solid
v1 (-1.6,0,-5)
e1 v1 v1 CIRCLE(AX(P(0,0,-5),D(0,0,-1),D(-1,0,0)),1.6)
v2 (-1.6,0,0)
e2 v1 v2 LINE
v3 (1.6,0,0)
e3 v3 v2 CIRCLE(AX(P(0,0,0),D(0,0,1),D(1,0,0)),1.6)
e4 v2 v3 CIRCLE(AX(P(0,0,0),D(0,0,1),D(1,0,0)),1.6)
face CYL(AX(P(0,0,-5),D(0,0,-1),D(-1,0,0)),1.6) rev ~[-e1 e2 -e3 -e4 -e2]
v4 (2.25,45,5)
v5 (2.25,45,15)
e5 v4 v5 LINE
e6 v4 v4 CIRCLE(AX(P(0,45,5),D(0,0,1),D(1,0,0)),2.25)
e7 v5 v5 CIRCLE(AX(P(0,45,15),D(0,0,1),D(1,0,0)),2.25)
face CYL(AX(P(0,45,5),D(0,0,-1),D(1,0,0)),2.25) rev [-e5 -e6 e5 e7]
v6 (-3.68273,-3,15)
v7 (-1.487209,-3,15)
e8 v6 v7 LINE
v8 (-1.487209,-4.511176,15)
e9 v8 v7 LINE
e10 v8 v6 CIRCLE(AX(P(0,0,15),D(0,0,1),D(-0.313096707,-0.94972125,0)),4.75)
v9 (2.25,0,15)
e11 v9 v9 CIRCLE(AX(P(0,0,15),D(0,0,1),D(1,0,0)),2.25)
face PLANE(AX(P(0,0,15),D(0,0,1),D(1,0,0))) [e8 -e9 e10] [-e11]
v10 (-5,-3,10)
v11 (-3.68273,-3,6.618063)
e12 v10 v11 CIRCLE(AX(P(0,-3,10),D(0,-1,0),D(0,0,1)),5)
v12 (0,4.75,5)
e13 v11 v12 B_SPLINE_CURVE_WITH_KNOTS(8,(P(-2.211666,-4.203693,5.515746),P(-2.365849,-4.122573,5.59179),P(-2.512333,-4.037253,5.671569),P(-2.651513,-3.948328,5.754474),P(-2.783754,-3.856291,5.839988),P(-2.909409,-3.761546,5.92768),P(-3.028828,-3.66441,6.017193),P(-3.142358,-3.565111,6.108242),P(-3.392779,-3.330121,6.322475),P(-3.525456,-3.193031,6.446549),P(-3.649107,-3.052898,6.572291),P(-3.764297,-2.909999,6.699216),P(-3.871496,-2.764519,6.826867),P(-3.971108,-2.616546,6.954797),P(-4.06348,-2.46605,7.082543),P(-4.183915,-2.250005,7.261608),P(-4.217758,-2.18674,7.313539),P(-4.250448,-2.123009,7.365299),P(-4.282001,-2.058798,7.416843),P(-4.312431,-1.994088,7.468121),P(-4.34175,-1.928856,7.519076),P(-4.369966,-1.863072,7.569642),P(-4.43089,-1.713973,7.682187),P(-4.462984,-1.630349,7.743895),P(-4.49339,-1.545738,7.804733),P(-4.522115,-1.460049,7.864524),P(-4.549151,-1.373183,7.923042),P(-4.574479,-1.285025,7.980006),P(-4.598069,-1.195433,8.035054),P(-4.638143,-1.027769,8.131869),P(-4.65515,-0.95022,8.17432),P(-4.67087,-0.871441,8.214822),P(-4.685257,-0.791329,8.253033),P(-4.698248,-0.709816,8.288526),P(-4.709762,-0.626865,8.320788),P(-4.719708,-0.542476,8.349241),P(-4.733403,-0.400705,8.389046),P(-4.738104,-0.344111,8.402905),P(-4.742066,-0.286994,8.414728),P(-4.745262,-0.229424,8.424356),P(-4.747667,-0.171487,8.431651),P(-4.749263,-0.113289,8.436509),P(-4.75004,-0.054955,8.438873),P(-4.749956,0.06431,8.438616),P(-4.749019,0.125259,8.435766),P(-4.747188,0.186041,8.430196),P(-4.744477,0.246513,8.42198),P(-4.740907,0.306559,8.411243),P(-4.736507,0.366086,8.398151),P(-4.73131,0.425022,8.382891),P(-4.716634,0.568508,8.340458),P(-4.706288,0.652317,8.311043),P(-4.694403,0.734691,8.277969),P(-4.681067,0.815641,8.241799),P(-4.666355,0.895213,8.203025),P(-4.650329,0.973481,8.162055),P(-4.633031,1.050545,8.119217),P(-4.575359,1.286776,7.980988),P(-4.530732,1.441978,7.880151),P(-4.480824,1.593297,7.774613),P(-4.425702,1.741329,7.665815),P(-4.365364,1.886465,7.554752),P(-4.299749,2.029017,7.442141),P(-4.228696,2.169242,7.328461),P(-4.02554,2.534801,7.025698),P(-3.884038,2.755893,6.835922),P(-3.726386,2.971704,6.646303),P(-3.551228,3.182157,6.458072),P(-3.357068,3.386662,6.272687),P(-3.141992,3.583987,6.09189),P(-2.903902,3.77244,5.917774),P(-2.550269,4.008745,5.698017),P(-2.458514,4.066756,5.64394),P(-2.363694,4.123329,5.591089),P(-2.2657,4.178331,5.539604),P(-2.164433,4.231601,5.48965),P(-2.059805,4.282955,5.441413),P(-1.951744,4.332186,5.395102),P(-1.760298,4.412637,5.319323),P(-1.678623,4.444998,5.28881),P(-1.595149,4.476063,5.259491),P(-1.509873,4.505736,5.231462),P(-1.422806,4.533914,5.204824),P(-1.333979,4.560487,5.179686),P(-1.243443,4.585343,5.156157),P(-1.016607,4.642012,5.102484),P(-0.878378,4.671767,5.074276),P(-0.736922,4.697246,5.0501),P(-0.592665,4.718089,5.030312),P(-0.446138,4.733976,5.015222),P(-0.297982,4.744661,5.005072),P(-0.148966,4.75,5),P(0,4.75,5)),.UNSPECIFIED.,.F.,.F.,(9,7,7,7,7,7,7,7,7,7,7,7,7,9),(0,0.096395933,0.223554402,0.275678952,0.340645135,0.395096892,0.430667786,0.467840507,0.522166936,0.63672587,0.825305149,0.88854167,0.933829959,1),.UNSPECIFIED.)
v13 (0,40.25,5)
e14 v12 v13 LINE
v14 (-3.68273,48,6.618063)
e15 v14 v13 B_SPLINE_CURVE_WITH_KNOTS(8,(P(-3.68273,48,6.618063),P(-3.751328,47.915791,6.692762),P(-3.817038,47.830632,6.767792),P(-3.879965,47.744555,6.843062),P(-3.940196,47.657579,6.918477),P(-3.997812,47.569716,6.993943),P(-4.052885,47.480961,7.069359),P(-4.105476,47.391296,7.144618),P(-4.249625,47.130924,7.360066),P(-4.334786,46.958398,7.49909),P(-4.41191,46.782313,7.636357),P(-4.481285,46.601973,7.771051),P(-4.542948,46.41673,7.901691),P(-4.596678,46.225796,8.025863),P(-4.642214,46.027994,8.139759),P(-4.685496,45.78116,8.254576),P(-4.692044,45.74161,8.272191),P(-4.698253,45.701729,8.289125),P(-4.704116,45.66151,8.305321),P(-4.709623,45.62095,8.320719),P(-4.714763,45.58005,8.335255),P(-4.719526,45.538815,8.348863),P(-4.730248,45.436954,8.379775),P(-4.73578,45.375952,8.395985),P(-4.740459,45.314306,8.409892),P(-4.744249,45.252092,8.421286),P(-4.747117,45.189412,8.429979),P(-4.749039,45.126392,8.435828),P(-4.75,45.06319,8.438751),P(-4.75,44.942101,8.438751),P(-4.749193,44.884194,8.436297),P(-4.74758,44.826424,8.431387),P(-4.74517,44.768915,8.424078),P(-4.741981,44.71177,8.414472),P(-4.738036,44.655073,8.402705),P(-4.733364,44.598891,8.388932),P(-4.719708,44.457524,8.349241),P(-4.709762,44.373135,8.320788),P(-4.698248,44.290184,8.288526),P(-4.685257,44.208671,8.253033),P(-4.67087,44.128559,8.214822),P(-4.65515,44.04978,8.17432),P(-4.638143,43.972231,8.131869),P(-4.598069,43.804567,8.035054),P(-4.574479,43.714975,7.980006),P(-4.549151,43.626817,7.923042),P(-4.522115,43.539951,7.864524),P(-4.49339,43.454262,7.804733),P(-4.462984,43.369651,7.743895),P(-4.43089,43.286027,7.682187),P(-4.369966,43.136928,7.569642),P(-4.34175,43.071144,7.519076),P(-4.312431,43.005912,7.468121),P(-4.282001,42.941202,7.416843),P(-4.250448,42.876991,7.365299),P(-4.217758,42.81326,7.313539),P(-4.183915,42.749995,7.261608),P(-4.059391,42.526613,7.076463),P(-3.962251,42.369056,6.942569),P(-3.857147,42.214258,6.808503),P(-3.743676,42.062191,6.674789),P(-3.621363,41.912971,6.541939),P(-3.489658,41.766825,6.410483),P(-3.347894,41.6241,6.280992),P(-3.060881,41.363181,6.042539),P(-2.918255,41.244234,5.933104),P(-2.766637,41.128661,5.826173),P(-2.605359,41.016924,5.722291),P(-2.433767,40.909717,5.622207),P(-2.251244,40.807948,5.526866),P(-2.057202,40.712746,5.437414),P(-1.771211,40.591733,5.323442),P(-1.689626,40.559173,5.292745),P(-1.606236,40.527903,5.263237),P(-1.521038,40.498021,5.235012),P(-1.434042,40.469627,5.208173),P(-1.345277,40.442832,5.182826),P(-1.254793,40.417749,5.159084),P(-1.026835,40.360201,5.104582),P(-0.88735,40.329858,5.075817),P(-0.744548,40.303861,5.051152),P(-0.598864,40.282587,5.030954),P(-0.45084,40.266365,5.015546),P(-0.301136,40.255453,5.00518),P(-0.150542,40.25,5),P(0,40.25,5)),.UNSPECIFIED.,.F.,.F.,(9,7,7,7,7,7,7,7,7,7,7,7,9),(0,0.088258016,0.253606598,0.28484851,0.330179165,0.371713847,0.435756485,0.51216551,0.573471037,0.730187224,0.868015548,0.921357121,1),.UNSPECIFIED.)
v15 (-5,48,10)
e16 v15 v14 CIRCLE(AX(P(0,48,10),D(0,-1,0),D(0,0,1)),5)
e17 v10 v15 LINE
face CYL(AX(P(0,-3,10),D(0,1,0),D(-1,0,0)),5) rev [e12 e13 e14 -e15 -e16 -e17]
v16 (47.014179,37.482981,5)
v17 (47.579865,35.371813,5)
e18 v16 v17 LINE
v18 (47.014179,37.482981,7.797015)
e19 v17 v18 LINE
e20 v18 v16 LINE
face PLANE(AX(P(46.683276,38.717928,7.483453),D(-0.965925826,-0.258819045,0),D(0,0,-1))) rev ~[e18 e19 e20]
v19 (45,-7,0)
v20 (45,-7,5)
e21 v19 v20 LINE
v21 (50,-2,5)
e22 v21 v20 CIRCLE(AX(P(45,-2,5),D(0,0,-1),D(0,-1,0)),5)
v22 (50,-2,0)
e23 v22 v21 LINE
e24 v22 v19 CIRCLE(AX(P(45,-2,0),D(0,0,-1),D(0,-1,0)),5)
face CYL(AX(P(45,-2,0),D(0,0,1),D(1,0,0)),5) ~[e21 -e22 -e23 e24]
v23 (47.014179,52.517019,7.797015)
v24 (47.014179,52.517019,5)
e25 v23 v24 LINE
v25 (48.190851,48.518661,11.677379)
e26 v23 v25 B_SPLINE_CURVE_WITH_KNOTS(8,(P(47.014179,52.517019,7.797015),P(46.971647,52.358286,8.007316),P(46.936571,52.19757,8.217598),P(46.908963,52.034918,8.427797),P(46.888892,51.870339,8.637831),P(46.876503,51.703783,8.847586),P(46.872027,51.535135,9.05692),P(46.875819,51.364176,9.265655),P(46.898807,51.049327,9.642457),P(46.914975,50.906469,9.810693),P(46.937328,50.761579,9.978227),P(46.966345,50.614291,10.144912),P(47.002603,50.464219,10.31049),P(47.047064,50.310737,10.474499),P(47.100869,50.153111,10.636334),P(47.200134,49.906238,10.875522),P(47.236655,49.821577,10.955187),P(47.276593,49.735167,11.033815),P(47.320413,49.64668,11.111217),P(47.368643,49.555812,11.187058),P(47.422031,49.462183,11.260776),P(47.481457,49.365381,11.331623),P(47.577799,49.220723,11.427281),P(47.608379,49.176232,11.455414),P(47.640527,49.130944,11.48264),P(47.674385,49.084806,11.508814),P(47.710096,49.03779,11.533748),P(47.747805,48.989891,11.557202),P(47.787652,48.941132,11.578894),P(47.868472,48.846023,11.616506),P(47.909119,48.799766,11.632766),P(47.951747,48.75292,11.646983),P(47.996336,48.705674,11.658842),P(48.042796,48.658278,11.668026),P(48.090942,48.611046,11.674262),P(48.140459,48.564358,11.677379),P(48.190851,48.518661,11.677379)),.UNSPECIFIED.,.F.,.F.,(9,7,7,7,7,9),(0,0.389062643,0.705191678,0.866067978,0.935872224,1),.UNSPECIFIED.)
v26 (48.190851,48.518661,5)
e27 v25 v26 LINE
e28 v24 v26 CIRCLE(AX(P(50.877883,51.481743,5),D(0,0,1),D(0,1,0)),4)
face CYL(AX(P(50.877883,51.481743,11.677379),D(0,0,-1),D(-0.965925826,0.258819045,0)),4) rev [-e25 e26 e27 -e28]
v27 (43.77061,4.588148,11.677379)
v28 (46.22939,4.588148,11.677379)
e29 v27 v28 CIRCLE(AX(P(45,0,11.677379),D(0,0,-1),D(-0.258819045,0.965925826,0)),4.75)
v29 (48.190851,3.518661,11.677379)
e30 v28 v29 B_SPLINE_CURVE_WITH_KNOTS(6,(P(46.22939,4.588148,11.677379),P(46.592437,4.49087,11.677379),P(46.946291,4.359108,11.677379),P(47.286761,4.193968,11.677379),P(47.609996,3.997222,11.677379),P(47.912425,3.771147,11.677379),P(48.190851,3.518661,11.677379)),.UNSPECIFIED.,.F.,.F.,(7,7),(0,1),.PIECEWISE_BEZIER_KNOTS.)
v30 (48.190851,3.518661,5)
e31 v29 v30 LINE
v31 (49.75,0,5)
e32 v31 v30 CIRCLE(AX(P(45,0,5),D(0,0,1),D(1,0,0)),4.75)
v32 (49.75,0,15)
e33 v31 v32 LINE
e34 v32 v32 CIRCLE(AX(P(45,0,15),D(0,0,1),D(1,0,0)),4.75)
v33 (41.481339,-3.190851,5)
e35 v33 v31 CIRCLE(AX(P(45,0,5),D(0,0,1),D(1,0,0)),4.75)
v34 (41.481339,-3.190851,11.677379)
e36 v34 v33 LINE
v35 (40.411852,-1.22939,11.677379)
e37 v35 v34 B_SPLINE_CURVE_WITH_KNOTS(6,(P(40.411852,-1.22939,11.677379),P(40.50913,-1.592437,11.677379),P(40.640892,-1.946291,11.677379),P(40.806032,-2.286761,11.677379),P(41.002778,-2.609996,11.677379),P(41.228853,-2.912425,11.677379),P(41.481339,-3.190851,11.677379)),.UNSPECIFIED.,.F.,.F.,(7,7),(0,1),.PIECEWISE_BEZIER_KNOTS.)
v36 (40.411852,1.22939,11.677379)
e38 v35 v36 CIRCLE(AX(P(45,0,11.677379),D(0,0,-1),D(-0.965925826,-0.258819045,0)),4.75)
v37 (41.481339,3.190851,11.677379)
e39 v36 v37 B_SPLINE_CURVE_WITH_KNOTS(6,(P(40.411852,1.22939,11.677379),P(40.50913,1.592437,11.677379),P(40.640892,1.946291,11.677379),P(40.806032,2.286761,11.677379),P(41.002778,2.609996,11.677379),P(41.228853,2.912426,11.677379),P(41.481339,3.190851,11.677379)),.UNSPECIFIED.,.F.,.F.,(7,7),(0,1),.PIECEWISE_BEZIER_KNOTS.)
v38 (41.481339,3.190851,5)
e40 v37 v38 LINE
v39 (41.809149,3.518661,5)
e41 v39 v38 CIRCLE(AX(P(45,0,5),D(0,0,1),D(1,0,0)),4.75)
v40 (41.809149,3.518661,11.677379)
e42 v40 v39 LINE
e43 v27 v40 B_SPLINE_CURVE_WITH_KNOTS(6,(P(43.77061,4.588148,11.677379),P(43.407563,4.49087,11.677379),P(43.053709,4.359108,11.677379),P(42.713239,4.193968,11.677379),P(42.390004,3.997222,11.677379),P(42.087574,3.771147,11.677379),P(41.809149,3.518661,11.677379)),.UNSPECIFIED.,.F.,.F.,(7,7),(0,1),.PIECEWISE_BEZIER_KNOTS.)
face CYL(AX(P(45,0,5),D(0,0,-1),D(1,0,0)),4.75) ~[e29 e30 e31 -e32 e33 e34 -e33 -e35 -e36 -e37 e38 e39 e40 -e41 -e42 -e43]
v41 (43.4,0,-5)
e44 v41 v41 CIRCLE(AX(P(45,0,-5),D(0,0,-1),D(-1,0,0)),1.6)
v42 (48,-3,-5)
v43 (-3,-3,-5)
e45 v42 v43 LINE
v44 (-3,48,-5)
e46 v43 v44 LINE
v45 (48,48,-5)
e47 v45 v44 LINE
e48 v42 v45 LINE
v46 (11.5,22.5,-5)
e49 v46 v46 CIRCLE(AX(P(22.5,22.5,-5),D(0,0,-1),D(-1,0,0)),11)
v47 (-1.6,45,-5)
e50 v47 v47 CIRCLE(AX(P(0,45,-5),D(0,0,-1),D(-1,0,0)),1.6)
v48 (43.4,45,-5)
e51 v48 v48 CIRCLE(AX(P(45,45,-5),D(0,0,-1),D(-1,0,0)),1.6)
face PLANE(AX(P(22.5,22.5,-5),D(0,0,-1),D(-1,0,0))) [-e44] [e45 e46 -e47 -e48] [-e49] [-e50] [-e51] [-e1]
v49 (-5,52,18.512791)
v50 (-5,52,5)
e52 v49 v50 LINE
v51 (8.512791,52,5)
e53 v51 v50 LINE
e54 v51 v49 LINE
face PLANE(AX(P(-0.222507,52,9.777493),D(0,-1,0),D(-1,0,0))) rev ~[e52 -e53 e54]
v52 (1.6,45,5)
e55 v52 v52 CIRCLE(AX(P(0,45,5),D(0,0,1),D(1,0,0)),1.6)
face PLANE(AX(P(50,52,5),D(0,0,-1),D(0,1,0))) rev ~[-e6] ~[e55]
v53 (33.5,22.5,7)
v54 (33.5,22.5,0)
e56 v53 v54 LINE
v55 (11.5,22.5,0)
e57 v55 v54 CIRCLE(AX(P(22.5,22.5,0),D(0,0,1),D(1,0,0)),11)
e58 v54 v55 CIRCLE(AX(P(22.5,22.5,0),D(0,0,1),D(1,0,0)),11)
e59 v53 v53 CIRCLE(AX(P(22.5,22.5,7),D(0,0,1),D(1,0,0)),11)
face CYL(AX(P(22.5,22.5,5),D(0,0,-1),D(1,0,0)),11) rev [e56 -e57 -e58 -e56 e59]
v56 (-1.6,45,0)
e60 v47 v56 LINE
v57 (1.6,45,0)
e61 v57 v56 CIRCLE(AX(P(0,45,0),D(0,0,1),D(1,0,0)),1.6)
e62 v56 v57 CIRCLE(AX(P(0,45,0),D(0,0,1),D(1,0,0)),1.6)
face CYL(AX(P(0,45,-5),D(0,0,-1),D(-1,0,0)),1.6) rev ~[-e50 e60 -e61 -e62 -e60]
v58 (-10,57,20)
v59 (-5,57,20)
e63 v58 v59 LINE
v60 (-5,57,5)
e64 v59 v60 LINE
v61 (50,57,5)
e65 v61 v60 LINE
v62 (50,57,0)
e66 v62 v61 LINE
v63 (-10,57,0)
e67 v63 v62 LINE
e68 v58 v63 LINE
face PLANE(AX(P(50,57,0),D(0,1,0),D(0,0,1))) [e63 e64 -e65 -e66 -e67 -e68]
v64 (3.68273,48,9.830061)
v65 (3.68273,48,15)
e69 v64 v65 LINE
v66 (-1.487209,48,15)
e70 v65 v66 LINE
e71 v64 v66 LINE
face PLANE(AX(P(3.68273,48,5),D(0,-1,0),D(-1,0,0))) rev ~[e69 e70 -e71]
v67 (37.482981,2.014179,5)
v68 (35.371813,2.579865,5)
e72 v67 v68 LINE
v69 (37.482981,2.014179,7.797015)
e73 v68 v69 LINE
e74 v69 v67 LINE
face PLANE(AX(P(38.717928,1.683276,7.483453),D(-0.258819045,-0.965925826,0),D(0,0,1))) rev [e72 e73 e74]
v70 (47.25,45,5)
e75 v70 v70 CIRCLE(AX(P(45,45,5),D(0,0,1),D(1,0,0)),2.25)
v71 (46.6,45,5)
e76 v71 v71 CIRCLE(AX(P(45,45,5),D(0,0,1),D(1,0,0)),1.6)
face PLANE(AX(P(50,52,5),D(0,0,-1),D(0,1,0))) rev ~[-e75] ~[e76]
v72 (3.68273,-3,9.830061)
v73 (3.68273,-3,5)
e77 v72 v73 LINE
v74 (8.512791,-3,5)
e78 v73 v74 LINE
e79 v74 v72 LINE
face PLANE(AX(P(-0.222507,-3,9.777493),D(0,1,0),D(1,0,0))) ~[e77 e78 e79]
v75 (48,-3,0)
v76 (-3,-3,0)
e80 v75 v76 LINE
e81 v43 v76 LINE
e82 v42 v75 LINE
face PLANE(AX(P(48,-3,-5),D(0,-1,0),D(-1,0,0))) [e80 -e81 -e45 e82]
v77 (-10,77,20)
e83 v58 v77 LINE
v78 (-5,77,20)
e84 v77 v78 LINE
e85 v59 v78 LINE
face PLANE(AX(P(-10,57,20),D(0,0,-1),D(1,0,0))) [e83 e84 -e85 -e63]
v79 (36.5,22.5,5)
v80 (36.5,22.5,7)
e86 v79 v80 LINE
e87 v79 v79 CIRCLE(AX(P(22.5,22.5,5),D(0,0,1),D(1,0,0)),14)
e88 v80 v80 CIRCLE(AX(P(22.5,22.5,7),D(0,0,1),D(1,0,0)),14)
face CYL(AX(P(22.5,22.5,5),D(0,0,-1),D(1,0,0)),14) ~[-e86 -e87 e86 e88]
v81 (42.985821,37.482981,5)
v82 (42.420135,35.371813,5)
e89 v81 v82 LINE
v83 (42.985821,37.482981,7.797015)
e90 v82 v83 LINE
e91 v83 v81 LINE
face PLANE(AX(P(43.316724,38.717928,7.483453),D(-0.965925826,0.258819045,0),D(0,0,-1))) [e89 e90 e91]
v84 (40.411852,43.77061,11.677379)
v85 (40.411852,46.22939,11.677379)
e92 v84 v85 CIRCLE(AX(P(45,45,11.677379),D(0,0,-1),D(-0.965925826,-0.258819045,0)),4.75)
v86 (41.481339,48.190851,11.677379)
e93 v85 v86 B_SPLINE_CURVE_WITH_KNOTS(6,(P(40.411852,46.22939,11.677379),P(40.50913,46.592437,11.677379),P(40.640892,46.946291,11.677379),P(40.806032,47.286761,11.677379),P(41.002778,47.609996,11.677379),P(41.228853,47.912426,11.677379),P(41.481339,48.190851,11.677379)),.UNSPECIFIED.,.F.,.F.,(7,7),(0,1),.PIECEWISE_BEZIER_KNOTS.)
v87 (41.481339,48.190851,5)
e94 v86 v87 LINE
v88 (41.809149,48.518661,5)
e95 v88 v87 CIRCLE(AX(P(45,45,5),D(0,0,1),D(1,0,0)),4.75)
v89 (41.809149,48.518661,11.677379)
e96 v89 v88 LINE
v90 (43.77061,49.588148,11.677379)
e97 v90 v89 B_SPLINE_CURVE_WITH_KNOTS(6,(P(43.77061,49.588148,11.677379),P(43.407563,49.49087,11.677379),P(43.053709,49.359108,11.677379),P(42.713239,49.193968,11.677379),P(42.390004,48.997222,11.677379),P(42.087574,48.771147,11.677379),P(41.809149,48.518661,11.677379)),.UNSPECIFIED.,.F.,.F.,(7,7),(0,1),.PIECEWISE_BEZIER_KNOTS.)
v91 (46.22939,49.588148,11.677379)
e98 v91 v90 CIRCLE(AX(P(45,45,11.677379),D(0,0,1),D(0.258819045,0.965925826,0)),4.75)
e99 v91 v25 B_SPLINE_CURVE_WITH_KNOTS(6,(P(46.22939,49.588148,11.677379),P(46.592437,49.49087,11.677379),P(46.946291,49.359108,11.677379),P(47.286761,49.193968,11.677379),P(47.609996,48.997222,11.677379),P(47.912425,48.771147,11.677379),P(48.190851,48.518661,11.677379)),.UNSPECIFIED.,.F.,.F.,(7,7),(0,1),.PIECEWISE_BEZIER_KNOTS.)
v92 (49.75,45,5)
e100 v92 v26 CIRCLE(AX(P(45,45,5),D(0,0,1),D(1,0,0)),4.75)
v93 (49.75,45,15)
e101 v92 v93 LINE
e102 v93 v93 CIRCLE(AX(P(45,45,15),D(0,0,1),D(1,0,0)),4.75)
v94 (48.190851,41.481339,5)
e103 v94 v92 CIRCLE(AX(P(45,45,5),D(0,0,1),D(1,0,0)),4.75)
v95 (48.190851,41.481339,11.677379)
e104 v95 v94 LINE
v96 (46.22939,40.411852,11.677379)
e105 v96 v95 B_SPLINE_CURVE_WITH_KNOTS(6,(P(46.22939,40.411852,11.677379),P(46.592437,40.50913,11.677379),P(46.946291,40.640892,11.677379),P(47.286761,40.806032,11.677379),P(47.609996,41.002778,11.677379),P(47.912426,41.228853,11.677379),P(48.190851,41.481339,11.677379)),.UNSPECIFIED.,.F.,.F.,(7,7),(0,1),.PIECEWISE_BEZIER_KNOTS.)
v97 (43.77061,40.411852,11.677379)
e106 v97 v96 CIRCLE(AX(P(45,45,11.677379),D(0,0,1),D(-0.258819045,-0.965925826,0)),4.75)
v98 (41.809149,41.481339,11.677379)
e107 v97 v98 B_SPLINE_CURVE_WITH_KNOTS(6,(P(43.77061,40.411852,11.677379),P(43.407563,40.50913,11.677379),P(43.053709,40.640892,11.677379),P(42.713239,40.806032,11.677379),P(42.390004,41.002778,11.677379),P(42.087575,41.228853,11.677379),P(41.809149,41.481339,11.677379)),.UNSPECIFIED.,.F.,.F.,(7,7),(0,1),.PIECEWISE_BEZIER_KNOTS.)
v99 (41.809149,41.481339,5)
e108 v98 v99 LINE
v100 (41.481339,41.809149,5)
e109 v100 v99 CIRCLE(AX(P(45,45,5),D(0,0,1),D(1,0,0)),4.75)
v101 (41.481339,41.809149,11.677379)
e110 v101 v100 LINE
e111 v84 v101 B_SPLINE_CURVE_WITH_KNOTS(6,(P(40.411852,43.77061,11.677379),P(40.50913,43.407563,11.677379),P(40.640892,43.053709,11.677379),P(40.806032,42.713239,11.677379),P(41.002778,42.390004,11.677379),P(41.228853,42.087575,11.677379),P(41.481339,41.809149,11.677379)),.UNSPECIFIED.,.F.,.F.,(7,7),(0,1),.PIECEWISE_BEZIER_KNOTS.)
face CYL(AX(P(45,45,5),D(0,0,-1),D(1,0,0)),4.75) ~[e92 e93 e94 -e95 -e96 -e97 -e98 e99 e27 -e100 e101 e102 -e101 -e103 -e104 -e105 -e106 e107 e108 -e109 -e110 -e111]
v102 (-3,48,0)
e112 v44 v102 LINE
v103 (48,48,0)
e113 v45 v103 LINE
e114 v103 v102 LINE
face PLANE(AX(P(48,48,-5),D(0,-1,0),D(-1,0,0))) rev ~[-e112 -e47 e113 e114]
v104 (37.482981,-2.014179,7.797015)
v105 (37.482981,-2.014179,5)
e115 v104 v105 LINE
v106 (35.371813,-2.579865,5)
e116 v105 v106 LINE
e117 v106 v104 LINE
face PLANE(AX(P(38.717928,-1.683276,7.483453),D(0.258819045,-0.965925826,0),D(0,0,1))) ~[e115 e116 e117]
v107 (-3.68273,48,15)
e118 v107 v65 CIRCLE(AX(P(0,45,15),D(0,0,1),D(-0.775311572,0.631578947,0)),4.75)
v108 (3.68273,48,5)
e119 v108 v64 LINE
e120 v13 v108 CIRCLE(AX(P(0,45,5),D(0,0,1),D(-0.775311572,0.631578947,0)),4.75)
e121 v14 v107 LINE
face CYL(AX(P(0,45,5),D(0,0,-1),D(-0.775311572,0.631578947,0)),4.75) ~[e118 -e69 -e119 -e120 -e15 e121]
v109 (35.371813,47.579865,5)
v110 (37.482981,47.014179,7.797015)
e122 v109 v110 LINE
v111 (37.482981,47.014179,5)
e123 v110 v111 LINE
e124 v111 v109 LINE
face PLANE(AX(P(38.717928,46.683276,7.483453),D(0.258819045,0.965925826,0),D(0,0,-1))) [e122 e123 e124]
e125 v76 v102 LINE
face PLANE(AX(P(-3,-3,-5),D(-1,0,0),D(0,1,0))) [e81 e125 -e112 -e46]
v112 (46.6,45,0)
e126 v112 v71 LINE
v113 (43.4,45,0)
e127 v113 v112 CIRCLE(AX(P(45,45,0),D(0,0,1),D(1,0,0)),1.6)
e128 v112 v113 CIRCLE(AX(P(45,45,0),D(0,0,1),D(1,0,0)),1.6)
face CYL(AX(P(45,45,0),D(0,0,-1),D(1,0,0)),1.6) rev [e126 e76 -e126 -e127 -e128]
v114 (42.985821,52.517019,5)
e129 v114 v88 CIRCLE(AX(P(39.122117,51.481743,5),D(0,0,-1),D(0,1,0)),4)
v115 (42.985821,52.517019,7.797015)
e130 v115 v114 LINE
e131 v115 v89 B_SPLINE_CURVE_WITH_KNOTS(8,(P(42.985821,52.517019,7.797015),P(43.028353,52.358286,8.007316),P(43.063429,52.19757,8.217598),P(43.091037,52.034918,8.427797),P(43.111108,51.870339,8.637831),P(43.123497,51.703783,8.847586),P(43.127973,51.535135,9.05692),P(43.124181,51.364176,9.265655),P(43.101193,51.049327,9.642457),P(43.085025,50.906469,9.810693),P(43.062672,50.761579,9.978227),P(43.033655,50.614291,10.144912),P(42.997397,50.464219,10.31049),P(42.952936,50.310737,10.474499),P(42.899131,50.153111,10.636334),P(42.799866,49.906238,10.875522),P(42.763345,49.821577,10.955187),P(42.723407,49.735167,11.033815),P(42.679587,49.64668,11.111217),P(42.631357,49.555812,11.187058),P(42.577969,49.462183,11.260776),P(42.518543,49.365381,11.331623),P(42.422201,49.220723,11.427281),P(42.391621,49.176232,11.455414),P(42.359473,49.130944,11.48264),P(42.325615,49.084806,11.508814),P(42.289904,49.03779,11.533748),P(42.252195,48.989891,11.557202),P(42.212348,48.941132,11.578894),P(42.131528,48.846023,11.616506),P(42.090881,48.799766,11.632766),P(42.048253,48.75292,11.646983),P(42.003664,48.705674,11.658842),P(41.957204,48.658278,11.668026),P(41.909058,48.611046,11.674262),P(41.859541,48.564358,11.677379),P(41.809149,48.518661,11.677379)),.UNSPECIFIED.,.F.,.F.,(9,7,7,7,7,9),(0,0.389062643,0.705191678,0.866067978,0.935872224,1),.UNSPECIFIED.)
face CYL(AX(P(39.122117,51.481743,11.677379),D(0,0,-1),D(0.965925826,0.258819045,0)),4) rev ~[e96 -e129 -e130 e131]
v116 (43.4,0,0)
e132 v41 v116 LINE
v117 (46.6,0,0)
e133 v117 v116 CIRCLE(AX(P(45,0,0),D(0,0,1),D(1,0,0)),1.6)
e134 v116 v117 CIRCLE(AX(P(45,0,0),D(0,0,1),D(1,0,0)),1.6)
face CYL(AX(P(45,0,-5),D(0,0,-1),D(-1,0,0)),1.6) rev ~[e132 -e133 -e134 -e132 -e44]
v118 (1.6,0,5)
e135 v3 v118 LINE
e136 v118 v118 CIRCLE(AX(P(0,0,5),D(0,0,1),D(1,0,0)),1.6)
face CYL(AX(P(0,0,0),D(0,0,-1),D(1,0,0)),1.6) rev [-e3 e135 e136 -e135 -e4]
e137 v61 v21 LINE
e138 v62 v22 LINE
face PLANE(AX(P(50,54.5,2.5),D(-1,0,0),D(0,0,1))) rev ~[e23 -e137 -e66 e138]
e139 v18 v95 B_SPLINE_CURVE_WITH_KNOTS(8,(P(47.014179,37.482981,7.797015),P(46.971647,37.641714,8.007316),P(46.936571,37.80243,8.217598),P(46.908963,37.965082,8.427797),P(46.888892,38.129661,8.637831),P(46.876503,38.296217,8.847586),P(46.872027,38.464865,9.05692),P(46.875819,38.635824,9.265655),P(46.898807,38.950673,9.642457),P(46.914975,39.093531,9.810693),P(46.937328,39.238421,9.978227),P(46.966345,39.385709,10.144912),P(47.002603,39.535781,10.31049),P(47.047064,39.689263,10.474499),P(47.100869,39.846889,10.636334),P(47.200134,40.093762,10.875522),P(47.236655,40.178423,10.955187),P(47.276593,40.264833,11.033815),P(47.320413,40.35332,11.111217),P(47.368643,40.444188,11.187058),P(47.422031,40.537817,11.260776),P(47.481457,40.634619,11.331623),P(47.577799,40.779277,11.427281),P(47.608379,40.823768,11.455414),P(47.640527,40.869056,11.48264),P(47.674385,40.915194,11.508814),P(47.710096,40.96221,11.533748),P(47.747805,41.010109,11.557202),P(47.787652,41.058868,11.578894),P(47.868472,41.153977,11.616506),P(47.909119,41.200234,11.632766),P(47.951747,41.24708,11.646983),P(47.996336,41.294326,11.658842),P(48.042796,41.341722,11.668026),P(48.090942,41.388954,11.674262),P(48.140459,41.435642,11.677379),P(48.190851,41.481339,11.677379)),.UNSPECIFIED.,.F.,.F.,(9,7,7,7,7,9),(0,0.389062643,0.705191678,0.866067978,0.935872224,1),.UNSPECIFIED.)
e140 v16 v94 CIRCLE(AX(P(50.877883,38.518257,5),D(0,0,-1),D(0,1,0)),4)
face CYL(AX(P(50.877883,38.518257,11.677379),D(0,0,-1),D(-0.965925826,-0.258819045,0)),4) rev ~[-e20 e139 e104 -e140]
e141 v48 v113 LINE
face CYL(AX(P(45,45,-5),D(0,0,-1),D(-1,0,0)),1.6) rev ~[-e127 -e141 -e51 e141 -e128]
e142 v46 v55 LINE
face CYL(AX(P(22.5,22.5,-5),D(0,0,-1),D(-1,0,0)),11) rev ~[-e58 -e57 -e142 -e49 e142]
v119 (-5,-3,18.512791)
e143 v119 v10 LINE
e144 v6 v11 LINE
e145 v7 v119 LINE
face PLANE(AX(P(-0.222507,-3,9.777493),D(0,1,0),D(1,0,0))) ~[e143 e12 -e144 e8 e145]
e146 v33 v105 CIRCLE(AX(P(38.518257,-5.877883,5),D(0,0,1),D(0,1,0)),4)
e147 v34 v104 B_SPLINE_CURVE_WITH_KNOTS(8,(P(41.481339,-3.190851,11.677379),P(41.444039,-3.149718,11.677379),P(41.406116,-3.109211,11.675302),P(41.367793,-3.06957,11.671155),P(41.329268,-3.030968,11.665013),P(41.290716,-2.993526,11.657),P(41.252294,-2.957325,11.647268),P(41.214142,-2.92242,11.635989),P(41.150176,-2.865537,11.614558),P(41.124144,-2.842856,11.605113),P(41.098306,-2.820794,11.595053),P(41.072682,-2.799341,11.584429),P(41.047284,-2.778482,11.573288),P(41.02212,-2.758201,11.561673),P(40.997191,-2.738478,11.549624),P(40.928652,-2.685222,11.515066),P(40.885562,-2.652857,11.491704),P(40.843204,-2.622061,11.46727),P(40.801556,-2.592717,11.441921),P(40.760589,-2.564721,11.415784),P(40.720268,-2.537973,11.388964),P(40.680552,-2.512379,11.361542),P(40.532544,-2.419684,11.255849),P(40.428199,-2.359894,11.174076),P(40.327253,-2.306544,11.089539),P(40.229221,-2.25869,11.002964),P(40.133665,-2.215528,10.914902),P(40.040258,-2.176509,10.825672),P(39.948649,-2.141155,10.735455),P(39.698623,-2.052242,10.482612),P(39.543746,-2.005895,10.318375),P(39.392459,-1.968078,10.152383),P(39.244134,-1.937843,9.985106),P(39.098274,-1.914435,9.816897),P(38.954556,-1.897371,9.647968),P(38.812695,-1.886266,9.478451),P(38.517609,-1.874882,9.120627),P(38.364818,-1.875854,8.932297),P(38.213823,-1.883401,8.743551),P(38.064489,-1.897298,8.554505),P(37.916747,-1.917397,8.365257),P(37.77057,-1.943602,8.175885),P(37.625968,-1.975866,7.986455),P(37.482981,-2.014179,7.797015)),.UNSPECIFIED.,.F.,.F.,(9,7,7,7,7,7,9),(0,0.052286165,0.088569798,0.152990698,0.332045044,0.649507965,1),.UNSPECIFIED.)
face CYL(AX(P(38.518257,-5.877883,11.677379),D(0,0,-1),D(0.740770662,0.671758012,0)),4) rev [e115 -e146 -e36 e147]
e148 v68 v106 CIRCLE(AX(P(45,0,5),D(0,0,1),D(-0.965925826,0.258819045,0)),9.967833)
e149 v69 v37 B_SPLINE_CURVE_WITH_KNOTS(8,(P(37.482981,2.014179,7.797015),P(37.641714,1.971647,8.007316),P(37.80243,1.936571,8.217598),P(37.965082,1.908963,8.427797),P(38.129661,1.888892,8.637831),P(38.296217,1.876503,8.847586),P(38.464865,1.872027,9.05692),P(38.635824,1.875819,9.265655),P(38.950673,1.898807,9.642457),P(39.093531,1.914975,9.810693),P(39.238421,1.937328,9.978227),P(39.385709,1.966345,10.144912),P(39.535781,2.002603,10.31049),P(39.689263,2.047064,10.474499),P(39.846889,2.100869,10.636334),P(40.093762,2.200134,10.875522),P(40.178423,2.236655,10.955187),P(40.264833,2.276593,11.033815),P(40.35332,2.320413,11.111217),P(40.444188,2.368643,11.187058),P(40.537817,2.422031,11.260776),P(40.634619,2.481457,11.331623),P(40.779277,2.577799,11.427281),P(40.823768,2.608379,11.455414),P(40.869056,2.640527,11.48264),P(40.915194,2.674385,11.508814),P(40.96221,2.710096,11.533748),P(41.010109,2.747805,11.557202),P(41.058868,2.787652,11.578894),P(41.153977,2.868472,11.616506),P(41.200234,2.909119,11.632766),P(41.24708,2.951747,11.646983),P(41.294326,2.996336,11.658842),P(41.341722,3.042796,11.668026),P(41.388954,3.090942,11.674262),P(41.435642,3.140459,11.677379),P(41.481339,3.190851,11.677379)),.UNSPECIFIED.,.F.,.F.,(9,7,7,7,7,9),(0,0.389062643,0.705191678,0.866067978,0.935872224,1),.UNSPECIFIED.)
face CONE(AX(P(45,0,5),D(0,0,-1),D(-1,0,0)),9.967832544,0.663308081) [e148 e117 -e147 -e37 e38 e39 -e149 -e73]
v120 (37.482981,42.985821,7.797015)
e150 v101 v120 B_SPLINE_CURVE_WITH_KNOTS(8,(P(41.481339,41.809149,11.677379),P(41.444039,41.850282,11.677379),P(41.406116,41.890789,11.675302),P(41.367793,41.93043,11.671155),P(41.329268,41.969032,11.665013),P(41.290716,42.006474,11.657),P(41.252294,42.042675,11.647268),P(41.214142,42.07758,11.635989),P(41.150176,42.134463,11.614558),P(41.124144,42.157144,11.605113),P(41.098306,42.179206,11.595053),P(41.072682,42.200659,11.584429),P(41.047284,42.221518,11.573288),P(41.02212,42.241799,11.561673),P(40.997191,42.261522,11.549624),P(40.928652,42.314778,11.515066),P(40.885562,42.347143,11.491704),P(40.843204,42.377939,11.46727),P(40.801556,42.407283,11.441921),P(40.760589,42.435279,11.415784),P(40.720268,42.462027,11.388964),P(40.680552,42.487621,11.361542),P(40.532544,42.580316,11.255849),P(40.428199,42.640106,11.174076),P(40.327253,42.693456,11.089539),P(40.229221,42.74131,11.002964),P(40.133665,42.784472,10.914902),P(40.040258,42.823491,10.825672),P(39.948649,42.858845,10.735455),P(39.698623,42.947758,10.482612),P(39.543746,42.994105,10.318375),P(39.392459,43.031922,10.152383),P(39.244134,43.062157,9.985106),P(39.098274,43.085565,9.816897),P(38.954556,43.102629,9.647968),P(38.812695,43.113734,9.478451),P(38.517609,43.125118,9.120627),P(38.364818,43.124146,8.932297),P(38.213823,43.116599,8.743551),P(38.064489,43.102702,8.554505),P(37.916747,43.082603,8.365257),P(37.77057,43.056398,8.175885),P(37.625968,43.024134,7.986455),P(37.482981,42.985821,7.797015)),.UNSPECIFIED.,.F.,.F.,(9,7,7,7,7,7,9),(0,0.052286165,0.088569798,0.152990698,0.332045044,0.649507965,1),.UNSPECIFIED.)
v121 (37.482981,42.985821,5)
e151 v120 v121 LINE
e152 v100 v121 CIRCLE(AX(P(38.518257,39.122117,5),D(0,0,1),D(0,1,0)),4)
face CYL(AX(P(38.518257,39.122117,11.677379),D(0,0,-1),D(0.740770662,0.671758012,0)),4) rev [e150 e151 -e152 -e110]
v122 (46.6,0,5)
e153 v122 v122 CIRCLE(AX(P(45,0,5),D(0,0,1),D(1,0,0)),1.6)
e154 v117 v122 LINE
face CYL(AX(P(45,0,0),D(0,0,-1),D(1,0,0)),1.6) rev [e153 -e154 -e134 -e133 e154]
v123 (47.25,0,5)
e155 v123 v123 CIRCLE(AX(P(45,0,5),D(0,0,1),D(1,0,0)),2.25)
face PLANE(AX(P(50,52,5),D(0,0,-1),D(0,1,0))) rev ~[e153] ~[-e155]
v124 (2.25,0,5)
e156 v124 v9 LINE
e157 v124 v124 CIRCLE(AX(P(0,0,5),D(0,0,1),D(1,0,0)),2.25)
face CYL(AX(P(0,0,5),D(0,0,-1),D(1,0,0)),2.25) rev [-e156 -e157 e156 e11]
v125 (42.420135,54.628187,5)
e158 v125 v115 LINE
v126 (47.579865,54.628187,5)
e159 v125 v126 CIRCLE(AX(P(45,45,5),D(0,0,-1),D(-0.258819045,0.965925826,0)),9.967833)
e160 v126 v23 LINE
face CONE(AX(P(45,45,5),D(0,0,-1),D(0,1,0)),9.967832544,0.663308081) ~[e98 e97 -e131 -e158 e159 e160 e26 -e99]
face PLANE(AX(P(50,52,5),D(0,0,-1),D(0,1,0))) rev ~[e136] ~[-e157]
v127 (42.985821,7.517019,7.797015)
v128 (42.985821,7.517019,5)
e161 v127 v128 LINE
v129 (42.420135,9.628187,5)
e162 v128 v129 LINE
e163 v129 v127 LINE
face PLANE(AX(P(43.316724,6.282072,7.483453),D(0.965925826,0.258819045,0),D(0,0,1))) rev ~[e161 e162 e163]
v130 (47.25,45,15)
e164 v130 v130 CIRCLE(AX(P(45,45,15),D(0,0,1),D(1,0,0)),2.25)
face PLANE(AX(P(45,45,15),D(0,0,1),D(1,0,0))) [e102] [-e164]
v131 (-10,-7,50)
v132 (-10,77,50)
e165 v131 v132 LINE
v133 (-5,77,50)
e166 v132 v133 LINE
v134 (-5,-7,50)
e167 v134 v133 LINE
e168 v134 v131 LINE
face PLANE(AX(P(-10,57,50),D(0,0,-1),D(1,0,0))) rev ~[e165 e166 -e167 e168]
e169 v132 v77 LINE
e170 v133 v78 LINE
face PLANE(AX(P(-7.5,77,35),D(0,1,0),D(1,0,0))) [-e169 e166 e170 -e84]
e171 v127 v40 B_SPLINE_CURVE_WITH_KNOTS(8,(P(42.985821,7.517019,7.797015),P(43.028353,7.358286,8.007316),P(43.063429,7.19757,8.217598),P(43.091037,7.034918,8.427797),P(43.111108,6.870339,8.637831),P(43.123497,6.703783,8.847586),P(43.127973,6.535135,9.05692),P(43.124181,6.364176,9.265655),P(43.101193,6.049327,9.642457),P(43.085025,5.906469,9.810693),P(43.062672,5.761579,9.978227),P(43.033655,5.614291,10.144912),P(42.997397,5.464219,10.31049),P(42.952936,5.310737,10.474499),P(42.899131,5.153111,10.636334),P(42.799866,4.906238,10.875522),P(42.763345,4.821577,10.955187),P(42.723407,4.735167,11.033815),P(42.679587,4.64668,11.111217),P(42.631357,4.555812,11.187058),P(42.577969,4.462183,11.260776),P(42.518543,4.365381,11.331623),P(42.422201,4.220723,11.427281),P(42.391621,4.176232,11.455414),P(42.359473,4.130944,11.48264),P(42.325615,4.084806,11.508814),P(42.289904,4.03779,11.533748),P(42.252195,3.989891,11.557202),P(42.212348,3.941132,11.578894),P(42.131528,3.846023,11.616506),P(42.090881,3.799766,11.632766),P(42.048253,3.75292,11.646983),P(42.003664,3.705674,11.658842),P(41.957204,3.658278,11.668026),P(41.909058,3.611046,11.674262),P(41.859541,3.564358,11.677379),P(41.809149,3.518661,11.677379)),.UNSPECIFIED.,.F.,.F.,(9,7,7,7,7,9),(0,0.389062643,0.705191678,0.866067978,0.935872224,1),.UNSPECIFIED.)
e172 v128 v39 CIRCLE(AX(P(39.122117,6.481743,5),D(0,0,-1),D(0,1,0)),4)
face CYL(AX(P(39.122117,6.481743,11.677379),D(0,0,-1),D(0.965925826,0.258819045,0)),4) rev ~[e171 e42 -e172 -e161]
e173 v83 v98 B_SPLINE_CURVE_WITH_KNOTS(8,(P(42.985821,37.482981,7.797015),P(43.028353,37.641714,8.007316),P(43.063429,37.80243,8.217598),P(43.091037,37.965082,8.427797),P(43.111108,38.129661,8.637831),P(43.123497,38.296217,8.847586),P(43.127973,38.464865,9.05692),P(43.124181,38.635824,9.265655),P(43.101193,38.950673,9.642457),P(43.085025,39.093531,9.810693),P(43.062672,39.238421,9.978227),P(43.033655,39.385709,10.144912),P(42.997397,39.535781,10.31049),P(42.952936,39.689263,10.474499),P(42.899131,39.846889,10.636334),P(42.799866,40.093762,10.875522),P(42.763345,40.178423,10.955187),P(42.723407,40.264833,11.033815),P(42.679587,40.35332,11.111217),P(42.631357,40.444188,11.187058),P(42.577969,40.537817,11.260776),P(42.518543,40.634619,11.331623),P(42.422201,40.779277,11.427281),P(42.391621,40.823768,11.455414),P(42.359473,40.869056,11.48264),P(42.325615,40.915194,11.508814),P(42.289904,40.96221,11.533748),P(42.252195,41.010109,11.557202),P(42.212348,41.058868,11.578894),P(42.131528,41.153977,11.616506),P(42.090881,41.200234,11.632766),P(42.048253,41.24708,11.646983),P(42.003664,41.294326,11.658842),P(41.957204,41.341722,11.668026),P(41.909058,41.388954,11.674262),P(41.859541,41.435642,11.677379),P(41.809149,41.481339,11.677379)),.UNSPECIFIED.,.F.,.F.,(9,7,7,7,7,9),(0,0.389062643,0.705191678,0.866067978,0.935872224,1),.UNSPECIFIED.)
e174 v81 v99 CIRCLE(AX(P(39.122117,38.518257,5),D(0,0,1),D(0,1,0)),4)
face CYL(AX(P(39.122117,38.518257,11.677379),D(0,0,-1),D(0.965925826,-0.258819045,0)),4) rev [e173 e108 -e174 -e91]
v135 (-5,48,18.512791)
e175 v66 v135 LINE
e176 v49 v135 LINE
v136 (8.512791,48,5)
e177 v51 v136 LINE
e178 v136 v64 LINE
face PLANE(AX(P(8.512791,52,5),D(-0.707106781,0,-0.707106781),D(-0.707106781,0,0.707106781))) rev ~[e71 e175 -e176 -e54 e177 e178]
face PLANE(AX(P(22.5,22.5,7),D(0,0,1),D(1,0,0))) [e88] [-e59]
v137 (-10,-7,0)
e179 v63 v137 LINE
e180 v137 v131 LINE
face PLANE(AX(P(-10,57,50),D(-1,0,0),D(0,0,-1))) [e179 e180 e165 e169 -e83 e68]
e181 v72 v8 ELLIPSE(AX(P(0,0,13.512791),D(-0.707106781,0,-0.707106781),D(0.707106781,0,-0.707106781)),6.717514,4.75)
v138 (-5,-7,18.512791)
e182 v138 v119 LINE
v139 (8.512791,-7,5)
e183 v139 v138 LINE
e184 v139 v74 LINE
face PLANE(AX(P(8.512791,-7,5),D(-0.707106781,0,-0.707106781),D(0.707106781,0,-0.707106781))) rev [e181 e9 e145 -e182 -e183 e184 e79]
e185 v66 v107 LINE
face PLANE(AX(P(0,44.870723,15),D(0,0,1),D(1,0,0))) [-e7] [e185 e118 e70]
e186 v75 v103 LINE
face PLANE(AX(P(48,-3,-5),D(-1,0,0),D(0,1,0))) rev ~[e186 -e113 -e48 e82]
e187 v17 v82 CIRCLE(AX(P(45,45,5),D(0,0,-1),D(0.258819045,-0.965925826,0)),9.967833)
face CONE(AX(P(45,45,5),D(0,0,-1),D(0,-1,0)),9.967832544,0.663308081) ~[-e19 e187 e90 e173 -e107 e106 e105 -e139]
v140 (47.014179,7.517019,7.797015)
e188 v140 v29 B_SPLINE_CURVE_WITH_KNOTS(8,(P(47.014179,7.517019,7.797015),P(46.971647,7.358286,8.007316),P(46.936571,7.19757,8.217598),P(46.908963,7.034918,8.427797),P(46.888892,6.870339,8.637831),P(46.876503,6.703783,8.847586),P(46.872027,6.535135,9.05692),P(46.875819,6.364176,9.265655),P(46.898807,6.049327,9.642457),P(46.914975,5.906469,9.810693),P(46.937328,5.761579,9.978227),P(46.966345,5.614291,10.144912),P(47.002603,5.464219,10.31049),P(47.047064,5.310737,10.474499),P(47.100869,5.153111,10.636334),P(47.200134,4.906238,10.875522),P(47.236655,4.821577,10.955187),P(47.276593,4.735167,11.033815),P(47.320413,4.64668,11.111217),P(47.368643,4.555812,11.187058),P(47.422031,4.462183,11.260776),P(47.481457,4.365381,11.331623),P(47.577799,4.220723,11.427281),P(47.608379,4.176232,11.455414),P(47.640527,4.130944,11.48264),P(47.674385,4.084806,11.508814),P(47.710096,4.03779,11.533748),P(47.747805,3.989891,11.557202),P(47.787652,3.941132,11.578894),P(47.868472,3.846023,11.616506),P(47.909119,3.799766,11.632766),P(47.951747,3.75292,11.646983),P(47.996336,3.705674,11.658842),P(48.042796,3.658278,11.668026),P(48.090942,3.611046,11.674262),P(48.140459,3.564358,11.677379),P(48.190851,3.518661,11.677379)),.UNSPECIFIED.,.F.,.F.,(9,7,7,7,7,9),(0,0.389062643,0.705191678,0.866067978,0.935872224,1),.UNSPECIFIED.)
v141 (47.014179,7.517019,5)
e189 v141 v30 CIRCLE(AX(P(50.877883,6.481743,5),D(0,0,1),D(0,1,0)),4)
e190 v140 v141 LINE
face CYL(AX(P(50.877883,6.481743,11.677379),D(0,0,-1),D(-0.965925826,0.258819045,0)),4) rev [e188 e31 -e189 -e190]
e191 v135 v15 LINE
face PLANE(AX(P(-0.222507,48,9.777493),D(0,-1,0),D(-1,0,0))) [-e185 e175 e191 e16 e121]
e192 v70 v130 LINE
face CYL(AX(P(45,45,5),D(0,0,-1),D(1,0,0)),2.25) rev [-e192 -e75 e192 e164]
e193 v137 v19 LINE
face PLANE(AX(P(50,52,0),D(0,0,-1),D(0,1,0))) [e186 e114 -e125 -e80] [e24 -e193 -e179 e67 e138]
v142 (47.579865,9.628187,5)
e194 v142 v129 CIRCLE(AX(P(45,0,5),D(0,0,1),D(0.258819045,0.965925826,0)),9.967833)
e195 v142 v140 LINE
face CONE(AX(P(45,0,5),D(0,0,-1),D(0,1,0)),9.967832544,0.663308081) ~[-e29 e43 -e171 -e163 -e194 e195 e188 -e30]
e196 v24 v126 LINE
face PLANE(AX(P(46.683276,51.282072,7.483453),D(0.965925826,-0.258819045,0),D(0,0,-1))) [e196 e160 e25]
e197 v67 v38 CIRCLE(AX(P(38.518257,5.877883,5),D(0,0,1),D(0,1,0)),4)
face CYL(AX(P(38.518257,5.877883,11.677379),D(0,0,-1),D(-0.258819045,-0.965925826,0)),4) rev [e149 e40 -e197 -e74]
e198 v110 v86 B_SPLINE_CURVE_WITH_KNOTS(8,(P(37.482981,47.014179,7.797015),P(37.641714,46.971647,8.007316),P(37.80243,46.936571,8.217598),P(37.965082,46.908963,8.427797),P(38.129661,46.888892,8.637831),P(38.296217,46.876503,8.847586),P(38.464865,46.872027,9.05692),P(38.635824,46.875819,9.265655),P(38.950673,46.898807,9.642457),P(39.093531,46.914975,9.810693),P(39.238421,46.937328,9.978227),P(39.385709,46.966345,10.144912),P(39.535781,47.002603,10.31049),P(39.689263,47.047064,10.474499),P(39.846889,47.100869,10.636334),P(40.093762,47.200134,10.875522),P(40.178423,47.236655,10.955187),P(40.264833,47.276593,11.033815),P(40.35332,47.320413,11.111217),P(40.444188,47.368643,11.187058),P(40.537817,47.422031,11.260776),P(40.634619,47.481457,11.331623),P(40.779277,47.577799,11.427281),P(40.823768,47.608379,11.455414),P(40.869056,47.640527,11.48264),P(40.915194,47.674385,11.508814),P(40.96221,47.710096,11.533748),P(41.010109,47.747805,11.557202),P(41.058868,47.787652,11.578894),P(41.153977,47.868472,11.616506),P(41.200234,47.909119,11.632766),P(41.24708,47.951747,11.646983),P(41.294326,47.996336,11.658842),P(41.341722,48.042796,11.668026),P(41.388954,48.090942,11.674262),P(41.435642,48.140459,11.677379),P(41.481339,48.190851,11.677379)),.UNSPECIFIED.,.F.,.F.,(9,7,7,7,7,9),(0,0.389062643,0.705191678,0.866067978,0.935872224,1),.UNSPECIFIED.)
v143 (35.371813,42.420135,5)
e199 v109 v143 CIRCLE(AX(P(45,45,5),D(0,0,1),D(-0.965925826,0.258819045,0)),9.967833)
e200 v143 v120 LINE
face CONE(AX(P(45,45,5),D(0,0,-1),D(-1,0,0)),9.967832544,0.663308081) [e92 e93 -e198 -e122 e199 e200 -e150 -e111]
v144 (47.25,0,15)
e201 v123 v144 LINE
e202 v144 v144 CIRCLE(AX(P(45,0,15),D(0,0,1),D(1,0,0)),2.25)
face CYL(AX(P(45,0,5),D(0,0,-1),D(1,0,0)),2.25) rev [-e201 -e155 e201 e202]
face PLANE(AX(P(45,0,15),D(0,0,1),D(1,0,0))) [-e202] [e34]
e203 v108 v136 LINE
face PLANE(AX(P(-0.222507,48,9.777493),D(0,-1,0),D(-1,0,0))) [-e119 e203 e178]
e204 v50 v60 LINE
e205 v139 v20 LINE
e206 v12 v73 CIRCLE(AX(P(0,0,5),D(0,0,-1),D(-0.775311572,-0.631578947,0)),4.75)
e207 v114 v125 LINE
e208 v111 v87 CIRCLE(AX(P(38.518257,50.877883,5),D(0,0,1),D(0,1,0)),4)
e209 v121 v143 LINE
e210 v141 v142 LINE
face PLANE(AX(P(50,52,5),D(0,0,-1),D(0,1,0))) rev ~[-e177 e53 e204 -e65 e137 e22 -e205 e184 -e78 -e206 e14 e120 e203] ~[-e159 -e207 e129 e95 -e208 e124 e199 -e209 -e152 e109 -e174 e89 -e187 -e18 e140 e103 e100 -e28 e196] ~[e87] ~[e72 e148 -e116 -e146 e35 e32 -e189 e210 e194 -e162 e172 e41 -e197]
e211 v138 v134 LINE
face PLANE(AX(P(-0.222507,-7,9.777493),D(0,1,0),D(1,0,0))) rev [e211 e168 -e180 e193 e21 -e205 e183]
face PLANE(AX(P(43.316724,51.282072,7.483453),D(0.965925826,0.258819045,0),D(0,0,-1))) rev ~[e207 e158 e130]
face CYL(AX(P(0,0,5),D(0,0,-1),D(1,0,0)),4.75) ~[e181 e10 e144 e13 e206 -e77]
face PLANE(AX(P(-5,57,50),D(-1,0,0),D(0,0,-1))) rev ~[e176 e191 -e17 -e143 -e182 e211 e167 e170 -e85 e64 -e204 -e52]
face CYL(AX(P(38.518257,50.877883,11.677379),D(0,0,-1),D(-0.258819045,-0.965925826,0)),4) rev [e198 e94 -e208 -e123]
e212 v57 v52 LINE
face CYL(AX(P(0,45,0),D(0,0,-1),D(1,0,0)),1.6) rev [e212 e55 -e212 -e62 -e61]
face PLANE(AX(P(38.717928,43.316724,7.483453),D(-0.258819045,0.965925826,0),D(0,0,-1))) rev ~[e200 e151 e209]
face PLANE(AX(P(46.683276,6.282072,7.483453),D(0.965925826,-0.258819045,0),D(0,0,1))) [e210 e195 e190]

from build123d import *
from build123d.topology import SkipClean

# Parameters (mm, degrees)
SKETCH2_W            = 55
SKETCH2_H            = 59
SKETCH2_R            = 1.6
SKETCH2_R_2          = 11
BOSS_EXTRUDE1_DEPTH  = 5
SKETCH4_W            = 5
SKETCH4_H            = 59
BOSS_EXTRUDE2_DEPTH  = 50
BOSS_EXTRUDE3_DEPTH  = 4
FILLET2_R            = 5
SKETCH7_W            = 5
SKETCH7_H            = 50
BOSS_EXTRUDE4_DEPTH  = 5
BOSS_EXTRUDE5_START  = -60
SKETCH8_W            = 5
SKETCH8_H            = 5
BOSS_EXTRUDE5_DEPTH  = 55
SKETCH10_R           = 2.25
SKETCH10_R_2         = 4.75
BOSS_EXTRUDE6_DEPTH  = 10
REVOLVE1_ANGLE       = 30
CIRPATTERN1_COUNT    = 2
CIRPATTERN1_ANGLE    = 270
MIRROR1_COPY_1_ANGLE = 30
CIRPATTERN2_COUNT    = 2
CIRPATTERN2_ANGLE    = 270
SKETCH12_R           = 14
SKETCH12_R_2         = 11
BOSS_EXTRUDE7_DEPTH  = 2
FILLET3_R            = 4
SKETCH14_W           = 5
SKETCH14_H           = 30
BOSS_EXTRUDE8_DEPTH  = 20
FILLET4_R            = 5
BOSS_EXTRUDE9_START  = 5
SKETCH15_W           = 51
SKETCH15_H           = 51
SKETCH15_R           = 1.6
SKETCH15_R_2         = 11
BOSS_EXTRUDE9_DEPTH  = 5


with BuildPart() as part:
    # Sketch2 → Boss-Extrude1 (new body)
    with BuildSketch(Plane.XY):
        with Locations((22.5, 22.5)):
            Rectangle(SKETCH2_W, SKETCH2_H)
        with Locations((0, 45)):
            Circle(SKETCH2_R, mode=Mode.SUBTRACT)
        with Locations((45, 45)):
            Circle(SKETCH2_R, mode=Mode.SUBTRACT)
        with Locations((45, 0)):
            Circle(SKETCH2_R, mode=Mode.SUBTRACT)
        Circle(SKETCH2_R, mode=Mode.SUBTRACT)
        with Locations((22.5, 22.5)):
            Circle(SKETCH2_R_2, mode=Mode.SUBTRACT)
    extrude(amount=BOSS_EXTRUDE1_DEPTH)

    # Sketch4 → Boss-Extrude2 (add)
    with BuildSketch(Plane(origin=(0, 0, 0), x_dir=(-1, 0, 0), z_dir=(0, 0, -1))):
        with Locations((7.5, 22.5)):
            Rectangle(SKETCH4_W, SKETCH4_H)
    extrude(amount=-BOSS_EXTRUDE2_DEPTH)

    # Sketch5 → Boss-Extrude3 (add)
    with BuildSketch(Plane(origin=(0, 52, 0), x_dir=(1, 0, 0), z_dir=(0, 1, 0))):
        Polygon((-5, -5), (8.512790644, -5), (-5, -18.512790644), align=None)
    boss_extrude3 = extrude(amount=-BOSS_EXTRUDE3_DEPTH)

    # Fillet2
    fillet2_edges = [part.edges().sort_by_distance(p)[0] for p in [
        (50, -7, 2.5),
    ]]
    fillet(fillet2_edges, radius=FILLET2_R)

    # Sketch7 → Boss-Extrude4 (add)
    with BuildSketch(Plane(origin=(0, 52, 0), x_dir=(1, 0, 0), z_dir=(0, 1, 0))):
        with Locations((-7.5, -25)):
            Rectangle(SKETCH7_W, SKETCH7_H)
    extrude(amount=BOSS_EXTRUDE4_DEPTH)

    # Sketch8 → Boss-Extrude5 (add)
    with BuildSketch(Plane.ZY.offset(10).offset(BOSS_EXTRUDE5_START)):
        with Locations((2.5, 54.5)):
            Rectangle(SKETCH8_W, SKETCH8_H)
    extrude(amount=BOSS_EXTRUDE5_DEPTH)

    # Sketch10 → Boss-Extrude6 (add)
    # profile 1 of 4: a face of its own
    with BuildSketch(Plane.XY.offset(5)):
        with BuildLine():
            Line((3.682729966, 48), (-3.682729966, 48))
            ThreePointArc((-3.682729966, 48), (0, 40.25), (3.682729966, 48))
        make_face()
        with Locations((0, 45)):
            Circle(SKETCH10_R, mode=Mode.SUBTRACT)
    # profile 2 of 4: a face of its own
    with BuildSketch(Plane.XY.offset(5)):
        with Locations((45, 45)):
            Circle(SKETCH10_R_2)
        with Locations((45, 45)):
            Circle(SKETCH10_R, mode=Mode.SUBTRACT)
    # profile 3 of 4: a face of its own
    with BuildSketch(Plane.XY.offset(5)):
        with Locations((45, 0)):
            Circle(SKETCH10_R_2)
        with Locations((45, 0)):
            Circle(SKETCH10_R, mode=Mode.SUBTRACT)
    # profile 4 of 4: a face of its own
    with BuildSketch(Plane.XY.offset(5)):
        Circle(SKETCH10_R_2)
        Circle(SKETCH10_R, mode=Mode.SUBTRACT)
    extrude(amount=BOSS_EXTRUDE6_DEPTH)

    # Sketch11 → Revolve1 (revolve, symmetric)
    with BuildSketch(Plane(origin=(0, 45, 0), x_dir=(0, 0, -1), z_dir=(0, 1, 0))) as revolve1_sk:
        Polygon((-5, -40.25), (-5, -35.032167456), (-11.67737913, -40.25), align=None)
    revolve1 = revolve(axis=Axis((45, 45, 15), (0, 0, -1)), revolution_arc=REVOLVE1_ANGLE / 2)
    revolve1 = revolve1 + revolve(revolve1_sk.sketch, axis=Axis((45, 45, 15), (0, 0, 1)), revolution_arc=REVOLVE1_ANGLE / 2)

    # CirPattern1: Revolve1 ×2 about axis
    cirpattern1_axis = Axis((45, 45, 15), (0, 0, -1))
    for i in range(1, CIRPATTERN1_COUNT):
        add(revolve1.rotate(cirpattern1_axis, i * CIRPATTERN1_ANGLE / (CIRPATTERN1_COUNT - 1)))

    # Mirror1: Revolve1 across plane
    add(revolve1.mirror(Plane.ZX.offset(22.5)))

    # Mirror1 copy 1 sketch → Mirror1 copy 1 (revolve, symmetric)
    with BuildSketch(Plane(origin=(45, 45, 0), x_dir=(0, 0, -1), z_dir=(-1, 0, 0))) as mirror1_copy_1_sk:
        Polygon((-5, 40.25), (-5, 35.032167456), (-11.67737913, 40.25), align=None)
    revolve(axis=Axis((45, 0, 15), (0, 0, 1)), revolution_arc=MIRROR1_COPY_1_ANGLE / 2)
    revolve(mirror1_copy_1_sk.sketch, axis=Axis((45, 0, 15), (0, 0, -1)), revolution_arc=MIRROR1_COPY_1_ANGLE / 2)

    # CirPattern2: Revolve1 ×2 about axis
    cirpattern2_axis = Axis((45, 45, 15), (0, 0, 1))
    for i in range(1, CIRPATTERN2_COUNT):
        add(revolve1.rotate(cirpattern2_axis, i * CIRPATTERN2_ANGLE / (CIRPATTERN2_COUNT - 1)))

    # Sketch12 → Boss-Extrude7 (add)
    with BuildSketch(Plane.XY.offset(5)):
        with Locations((22.5, 22.5)):
            Circle(SKETCH12_R)
        with Locations((22.5, 22.5)):
            Circle(SKETCH12_R_2, mode=Mode.SUBTRACT)
    extrude(amount=BOSS_EXTRUDE7_DEPTH)

    # Mirror2: Boss-Extrude3 across plane
    add(boss_extrude3.mirror(Plane.ZX.offset(22.5)))

    # Fillet3
    fillet3_edges = [part.edges().sort_by_distance(p)[0] for p in [
        (40.411852325, 43.770609536, 8.338689565),
        (40.411852325, 46.229390464, 8.338689565),
        (46.229390464, 40.411852325, 8.338689565),
        (43.770609536, 40.411852325, 8.338689565),
        (40.411852325, -1.229390464, 8.338689565),
        (40.411852325, 1.229390464, 8.338689565),
        (43.770609536, 4.588147675, 8.338689565),
        (46.229390464, 4.588147675, 8.338689565),
        (43.770609536, 49.588147675, 8.338689565),
        (46.229390464, 49.588147675, 8.338689565),
    ]]
    fillet(fillet3_edges, radius=FILLET3_R)

    # Sketch14 → Boss-Extrude8 (add)
    with BuildSketch(Plane(origin=(0, 57, 0), x_dir=(1, 0, 0), z_dir=(0, 1, 0))):
        with Locations((-7.5, -35)):
            Rectangle(SKETCH14_W, SKETCH14_H)
    extrude(amount=BOSS_EXTRUDE8_DEPTH)

    # Fillet4
    fillet4_edges = [part.edges().sort_by_distance(p)[0] for p in [
        (-5, 22.5, 5),
    ]]
    fillet(fillet4_edges, radius=FILLET4_R)

    # Sketch15 → Boss-Extrude9 (add)
    with SkipClean():  # the faces are left unmerged after this step: merging them gives an invalid solid
        with BuildSketch(Plane(origin=(0, 0, 0), x_dir=(-1, 0, 0), z_dir=(0, 0, -1)).offset(BOSS_EXTRUDE9_START)):
            with Locations((-22.5, 22.5)):
                Rectangle(SKETCH15_W, SKETCH15_H)
            Circle(SKETCH15_R, mode=Mode.SUBTRACT)
            with Locations((0, 45)):
                Circle(SKETCH15_R, mode=Mode.SUBTRACT)
            with Locations((-45, 45)):
                Circle(SKETCH15_R, mode=Mode.SUBTRACT)
            with Locations((-45, 0)):
                Circle(SKETCH15_R, mode=Mode.SUBTRACT)
            with Locations((-22.5, 22.5)):
                Circle(SKETCH15_R_2, mode=Mode.SUBTRACT)
        extrude(amount=-BOSS_EXTRUDE9_DEPTH)


solid = part.part
